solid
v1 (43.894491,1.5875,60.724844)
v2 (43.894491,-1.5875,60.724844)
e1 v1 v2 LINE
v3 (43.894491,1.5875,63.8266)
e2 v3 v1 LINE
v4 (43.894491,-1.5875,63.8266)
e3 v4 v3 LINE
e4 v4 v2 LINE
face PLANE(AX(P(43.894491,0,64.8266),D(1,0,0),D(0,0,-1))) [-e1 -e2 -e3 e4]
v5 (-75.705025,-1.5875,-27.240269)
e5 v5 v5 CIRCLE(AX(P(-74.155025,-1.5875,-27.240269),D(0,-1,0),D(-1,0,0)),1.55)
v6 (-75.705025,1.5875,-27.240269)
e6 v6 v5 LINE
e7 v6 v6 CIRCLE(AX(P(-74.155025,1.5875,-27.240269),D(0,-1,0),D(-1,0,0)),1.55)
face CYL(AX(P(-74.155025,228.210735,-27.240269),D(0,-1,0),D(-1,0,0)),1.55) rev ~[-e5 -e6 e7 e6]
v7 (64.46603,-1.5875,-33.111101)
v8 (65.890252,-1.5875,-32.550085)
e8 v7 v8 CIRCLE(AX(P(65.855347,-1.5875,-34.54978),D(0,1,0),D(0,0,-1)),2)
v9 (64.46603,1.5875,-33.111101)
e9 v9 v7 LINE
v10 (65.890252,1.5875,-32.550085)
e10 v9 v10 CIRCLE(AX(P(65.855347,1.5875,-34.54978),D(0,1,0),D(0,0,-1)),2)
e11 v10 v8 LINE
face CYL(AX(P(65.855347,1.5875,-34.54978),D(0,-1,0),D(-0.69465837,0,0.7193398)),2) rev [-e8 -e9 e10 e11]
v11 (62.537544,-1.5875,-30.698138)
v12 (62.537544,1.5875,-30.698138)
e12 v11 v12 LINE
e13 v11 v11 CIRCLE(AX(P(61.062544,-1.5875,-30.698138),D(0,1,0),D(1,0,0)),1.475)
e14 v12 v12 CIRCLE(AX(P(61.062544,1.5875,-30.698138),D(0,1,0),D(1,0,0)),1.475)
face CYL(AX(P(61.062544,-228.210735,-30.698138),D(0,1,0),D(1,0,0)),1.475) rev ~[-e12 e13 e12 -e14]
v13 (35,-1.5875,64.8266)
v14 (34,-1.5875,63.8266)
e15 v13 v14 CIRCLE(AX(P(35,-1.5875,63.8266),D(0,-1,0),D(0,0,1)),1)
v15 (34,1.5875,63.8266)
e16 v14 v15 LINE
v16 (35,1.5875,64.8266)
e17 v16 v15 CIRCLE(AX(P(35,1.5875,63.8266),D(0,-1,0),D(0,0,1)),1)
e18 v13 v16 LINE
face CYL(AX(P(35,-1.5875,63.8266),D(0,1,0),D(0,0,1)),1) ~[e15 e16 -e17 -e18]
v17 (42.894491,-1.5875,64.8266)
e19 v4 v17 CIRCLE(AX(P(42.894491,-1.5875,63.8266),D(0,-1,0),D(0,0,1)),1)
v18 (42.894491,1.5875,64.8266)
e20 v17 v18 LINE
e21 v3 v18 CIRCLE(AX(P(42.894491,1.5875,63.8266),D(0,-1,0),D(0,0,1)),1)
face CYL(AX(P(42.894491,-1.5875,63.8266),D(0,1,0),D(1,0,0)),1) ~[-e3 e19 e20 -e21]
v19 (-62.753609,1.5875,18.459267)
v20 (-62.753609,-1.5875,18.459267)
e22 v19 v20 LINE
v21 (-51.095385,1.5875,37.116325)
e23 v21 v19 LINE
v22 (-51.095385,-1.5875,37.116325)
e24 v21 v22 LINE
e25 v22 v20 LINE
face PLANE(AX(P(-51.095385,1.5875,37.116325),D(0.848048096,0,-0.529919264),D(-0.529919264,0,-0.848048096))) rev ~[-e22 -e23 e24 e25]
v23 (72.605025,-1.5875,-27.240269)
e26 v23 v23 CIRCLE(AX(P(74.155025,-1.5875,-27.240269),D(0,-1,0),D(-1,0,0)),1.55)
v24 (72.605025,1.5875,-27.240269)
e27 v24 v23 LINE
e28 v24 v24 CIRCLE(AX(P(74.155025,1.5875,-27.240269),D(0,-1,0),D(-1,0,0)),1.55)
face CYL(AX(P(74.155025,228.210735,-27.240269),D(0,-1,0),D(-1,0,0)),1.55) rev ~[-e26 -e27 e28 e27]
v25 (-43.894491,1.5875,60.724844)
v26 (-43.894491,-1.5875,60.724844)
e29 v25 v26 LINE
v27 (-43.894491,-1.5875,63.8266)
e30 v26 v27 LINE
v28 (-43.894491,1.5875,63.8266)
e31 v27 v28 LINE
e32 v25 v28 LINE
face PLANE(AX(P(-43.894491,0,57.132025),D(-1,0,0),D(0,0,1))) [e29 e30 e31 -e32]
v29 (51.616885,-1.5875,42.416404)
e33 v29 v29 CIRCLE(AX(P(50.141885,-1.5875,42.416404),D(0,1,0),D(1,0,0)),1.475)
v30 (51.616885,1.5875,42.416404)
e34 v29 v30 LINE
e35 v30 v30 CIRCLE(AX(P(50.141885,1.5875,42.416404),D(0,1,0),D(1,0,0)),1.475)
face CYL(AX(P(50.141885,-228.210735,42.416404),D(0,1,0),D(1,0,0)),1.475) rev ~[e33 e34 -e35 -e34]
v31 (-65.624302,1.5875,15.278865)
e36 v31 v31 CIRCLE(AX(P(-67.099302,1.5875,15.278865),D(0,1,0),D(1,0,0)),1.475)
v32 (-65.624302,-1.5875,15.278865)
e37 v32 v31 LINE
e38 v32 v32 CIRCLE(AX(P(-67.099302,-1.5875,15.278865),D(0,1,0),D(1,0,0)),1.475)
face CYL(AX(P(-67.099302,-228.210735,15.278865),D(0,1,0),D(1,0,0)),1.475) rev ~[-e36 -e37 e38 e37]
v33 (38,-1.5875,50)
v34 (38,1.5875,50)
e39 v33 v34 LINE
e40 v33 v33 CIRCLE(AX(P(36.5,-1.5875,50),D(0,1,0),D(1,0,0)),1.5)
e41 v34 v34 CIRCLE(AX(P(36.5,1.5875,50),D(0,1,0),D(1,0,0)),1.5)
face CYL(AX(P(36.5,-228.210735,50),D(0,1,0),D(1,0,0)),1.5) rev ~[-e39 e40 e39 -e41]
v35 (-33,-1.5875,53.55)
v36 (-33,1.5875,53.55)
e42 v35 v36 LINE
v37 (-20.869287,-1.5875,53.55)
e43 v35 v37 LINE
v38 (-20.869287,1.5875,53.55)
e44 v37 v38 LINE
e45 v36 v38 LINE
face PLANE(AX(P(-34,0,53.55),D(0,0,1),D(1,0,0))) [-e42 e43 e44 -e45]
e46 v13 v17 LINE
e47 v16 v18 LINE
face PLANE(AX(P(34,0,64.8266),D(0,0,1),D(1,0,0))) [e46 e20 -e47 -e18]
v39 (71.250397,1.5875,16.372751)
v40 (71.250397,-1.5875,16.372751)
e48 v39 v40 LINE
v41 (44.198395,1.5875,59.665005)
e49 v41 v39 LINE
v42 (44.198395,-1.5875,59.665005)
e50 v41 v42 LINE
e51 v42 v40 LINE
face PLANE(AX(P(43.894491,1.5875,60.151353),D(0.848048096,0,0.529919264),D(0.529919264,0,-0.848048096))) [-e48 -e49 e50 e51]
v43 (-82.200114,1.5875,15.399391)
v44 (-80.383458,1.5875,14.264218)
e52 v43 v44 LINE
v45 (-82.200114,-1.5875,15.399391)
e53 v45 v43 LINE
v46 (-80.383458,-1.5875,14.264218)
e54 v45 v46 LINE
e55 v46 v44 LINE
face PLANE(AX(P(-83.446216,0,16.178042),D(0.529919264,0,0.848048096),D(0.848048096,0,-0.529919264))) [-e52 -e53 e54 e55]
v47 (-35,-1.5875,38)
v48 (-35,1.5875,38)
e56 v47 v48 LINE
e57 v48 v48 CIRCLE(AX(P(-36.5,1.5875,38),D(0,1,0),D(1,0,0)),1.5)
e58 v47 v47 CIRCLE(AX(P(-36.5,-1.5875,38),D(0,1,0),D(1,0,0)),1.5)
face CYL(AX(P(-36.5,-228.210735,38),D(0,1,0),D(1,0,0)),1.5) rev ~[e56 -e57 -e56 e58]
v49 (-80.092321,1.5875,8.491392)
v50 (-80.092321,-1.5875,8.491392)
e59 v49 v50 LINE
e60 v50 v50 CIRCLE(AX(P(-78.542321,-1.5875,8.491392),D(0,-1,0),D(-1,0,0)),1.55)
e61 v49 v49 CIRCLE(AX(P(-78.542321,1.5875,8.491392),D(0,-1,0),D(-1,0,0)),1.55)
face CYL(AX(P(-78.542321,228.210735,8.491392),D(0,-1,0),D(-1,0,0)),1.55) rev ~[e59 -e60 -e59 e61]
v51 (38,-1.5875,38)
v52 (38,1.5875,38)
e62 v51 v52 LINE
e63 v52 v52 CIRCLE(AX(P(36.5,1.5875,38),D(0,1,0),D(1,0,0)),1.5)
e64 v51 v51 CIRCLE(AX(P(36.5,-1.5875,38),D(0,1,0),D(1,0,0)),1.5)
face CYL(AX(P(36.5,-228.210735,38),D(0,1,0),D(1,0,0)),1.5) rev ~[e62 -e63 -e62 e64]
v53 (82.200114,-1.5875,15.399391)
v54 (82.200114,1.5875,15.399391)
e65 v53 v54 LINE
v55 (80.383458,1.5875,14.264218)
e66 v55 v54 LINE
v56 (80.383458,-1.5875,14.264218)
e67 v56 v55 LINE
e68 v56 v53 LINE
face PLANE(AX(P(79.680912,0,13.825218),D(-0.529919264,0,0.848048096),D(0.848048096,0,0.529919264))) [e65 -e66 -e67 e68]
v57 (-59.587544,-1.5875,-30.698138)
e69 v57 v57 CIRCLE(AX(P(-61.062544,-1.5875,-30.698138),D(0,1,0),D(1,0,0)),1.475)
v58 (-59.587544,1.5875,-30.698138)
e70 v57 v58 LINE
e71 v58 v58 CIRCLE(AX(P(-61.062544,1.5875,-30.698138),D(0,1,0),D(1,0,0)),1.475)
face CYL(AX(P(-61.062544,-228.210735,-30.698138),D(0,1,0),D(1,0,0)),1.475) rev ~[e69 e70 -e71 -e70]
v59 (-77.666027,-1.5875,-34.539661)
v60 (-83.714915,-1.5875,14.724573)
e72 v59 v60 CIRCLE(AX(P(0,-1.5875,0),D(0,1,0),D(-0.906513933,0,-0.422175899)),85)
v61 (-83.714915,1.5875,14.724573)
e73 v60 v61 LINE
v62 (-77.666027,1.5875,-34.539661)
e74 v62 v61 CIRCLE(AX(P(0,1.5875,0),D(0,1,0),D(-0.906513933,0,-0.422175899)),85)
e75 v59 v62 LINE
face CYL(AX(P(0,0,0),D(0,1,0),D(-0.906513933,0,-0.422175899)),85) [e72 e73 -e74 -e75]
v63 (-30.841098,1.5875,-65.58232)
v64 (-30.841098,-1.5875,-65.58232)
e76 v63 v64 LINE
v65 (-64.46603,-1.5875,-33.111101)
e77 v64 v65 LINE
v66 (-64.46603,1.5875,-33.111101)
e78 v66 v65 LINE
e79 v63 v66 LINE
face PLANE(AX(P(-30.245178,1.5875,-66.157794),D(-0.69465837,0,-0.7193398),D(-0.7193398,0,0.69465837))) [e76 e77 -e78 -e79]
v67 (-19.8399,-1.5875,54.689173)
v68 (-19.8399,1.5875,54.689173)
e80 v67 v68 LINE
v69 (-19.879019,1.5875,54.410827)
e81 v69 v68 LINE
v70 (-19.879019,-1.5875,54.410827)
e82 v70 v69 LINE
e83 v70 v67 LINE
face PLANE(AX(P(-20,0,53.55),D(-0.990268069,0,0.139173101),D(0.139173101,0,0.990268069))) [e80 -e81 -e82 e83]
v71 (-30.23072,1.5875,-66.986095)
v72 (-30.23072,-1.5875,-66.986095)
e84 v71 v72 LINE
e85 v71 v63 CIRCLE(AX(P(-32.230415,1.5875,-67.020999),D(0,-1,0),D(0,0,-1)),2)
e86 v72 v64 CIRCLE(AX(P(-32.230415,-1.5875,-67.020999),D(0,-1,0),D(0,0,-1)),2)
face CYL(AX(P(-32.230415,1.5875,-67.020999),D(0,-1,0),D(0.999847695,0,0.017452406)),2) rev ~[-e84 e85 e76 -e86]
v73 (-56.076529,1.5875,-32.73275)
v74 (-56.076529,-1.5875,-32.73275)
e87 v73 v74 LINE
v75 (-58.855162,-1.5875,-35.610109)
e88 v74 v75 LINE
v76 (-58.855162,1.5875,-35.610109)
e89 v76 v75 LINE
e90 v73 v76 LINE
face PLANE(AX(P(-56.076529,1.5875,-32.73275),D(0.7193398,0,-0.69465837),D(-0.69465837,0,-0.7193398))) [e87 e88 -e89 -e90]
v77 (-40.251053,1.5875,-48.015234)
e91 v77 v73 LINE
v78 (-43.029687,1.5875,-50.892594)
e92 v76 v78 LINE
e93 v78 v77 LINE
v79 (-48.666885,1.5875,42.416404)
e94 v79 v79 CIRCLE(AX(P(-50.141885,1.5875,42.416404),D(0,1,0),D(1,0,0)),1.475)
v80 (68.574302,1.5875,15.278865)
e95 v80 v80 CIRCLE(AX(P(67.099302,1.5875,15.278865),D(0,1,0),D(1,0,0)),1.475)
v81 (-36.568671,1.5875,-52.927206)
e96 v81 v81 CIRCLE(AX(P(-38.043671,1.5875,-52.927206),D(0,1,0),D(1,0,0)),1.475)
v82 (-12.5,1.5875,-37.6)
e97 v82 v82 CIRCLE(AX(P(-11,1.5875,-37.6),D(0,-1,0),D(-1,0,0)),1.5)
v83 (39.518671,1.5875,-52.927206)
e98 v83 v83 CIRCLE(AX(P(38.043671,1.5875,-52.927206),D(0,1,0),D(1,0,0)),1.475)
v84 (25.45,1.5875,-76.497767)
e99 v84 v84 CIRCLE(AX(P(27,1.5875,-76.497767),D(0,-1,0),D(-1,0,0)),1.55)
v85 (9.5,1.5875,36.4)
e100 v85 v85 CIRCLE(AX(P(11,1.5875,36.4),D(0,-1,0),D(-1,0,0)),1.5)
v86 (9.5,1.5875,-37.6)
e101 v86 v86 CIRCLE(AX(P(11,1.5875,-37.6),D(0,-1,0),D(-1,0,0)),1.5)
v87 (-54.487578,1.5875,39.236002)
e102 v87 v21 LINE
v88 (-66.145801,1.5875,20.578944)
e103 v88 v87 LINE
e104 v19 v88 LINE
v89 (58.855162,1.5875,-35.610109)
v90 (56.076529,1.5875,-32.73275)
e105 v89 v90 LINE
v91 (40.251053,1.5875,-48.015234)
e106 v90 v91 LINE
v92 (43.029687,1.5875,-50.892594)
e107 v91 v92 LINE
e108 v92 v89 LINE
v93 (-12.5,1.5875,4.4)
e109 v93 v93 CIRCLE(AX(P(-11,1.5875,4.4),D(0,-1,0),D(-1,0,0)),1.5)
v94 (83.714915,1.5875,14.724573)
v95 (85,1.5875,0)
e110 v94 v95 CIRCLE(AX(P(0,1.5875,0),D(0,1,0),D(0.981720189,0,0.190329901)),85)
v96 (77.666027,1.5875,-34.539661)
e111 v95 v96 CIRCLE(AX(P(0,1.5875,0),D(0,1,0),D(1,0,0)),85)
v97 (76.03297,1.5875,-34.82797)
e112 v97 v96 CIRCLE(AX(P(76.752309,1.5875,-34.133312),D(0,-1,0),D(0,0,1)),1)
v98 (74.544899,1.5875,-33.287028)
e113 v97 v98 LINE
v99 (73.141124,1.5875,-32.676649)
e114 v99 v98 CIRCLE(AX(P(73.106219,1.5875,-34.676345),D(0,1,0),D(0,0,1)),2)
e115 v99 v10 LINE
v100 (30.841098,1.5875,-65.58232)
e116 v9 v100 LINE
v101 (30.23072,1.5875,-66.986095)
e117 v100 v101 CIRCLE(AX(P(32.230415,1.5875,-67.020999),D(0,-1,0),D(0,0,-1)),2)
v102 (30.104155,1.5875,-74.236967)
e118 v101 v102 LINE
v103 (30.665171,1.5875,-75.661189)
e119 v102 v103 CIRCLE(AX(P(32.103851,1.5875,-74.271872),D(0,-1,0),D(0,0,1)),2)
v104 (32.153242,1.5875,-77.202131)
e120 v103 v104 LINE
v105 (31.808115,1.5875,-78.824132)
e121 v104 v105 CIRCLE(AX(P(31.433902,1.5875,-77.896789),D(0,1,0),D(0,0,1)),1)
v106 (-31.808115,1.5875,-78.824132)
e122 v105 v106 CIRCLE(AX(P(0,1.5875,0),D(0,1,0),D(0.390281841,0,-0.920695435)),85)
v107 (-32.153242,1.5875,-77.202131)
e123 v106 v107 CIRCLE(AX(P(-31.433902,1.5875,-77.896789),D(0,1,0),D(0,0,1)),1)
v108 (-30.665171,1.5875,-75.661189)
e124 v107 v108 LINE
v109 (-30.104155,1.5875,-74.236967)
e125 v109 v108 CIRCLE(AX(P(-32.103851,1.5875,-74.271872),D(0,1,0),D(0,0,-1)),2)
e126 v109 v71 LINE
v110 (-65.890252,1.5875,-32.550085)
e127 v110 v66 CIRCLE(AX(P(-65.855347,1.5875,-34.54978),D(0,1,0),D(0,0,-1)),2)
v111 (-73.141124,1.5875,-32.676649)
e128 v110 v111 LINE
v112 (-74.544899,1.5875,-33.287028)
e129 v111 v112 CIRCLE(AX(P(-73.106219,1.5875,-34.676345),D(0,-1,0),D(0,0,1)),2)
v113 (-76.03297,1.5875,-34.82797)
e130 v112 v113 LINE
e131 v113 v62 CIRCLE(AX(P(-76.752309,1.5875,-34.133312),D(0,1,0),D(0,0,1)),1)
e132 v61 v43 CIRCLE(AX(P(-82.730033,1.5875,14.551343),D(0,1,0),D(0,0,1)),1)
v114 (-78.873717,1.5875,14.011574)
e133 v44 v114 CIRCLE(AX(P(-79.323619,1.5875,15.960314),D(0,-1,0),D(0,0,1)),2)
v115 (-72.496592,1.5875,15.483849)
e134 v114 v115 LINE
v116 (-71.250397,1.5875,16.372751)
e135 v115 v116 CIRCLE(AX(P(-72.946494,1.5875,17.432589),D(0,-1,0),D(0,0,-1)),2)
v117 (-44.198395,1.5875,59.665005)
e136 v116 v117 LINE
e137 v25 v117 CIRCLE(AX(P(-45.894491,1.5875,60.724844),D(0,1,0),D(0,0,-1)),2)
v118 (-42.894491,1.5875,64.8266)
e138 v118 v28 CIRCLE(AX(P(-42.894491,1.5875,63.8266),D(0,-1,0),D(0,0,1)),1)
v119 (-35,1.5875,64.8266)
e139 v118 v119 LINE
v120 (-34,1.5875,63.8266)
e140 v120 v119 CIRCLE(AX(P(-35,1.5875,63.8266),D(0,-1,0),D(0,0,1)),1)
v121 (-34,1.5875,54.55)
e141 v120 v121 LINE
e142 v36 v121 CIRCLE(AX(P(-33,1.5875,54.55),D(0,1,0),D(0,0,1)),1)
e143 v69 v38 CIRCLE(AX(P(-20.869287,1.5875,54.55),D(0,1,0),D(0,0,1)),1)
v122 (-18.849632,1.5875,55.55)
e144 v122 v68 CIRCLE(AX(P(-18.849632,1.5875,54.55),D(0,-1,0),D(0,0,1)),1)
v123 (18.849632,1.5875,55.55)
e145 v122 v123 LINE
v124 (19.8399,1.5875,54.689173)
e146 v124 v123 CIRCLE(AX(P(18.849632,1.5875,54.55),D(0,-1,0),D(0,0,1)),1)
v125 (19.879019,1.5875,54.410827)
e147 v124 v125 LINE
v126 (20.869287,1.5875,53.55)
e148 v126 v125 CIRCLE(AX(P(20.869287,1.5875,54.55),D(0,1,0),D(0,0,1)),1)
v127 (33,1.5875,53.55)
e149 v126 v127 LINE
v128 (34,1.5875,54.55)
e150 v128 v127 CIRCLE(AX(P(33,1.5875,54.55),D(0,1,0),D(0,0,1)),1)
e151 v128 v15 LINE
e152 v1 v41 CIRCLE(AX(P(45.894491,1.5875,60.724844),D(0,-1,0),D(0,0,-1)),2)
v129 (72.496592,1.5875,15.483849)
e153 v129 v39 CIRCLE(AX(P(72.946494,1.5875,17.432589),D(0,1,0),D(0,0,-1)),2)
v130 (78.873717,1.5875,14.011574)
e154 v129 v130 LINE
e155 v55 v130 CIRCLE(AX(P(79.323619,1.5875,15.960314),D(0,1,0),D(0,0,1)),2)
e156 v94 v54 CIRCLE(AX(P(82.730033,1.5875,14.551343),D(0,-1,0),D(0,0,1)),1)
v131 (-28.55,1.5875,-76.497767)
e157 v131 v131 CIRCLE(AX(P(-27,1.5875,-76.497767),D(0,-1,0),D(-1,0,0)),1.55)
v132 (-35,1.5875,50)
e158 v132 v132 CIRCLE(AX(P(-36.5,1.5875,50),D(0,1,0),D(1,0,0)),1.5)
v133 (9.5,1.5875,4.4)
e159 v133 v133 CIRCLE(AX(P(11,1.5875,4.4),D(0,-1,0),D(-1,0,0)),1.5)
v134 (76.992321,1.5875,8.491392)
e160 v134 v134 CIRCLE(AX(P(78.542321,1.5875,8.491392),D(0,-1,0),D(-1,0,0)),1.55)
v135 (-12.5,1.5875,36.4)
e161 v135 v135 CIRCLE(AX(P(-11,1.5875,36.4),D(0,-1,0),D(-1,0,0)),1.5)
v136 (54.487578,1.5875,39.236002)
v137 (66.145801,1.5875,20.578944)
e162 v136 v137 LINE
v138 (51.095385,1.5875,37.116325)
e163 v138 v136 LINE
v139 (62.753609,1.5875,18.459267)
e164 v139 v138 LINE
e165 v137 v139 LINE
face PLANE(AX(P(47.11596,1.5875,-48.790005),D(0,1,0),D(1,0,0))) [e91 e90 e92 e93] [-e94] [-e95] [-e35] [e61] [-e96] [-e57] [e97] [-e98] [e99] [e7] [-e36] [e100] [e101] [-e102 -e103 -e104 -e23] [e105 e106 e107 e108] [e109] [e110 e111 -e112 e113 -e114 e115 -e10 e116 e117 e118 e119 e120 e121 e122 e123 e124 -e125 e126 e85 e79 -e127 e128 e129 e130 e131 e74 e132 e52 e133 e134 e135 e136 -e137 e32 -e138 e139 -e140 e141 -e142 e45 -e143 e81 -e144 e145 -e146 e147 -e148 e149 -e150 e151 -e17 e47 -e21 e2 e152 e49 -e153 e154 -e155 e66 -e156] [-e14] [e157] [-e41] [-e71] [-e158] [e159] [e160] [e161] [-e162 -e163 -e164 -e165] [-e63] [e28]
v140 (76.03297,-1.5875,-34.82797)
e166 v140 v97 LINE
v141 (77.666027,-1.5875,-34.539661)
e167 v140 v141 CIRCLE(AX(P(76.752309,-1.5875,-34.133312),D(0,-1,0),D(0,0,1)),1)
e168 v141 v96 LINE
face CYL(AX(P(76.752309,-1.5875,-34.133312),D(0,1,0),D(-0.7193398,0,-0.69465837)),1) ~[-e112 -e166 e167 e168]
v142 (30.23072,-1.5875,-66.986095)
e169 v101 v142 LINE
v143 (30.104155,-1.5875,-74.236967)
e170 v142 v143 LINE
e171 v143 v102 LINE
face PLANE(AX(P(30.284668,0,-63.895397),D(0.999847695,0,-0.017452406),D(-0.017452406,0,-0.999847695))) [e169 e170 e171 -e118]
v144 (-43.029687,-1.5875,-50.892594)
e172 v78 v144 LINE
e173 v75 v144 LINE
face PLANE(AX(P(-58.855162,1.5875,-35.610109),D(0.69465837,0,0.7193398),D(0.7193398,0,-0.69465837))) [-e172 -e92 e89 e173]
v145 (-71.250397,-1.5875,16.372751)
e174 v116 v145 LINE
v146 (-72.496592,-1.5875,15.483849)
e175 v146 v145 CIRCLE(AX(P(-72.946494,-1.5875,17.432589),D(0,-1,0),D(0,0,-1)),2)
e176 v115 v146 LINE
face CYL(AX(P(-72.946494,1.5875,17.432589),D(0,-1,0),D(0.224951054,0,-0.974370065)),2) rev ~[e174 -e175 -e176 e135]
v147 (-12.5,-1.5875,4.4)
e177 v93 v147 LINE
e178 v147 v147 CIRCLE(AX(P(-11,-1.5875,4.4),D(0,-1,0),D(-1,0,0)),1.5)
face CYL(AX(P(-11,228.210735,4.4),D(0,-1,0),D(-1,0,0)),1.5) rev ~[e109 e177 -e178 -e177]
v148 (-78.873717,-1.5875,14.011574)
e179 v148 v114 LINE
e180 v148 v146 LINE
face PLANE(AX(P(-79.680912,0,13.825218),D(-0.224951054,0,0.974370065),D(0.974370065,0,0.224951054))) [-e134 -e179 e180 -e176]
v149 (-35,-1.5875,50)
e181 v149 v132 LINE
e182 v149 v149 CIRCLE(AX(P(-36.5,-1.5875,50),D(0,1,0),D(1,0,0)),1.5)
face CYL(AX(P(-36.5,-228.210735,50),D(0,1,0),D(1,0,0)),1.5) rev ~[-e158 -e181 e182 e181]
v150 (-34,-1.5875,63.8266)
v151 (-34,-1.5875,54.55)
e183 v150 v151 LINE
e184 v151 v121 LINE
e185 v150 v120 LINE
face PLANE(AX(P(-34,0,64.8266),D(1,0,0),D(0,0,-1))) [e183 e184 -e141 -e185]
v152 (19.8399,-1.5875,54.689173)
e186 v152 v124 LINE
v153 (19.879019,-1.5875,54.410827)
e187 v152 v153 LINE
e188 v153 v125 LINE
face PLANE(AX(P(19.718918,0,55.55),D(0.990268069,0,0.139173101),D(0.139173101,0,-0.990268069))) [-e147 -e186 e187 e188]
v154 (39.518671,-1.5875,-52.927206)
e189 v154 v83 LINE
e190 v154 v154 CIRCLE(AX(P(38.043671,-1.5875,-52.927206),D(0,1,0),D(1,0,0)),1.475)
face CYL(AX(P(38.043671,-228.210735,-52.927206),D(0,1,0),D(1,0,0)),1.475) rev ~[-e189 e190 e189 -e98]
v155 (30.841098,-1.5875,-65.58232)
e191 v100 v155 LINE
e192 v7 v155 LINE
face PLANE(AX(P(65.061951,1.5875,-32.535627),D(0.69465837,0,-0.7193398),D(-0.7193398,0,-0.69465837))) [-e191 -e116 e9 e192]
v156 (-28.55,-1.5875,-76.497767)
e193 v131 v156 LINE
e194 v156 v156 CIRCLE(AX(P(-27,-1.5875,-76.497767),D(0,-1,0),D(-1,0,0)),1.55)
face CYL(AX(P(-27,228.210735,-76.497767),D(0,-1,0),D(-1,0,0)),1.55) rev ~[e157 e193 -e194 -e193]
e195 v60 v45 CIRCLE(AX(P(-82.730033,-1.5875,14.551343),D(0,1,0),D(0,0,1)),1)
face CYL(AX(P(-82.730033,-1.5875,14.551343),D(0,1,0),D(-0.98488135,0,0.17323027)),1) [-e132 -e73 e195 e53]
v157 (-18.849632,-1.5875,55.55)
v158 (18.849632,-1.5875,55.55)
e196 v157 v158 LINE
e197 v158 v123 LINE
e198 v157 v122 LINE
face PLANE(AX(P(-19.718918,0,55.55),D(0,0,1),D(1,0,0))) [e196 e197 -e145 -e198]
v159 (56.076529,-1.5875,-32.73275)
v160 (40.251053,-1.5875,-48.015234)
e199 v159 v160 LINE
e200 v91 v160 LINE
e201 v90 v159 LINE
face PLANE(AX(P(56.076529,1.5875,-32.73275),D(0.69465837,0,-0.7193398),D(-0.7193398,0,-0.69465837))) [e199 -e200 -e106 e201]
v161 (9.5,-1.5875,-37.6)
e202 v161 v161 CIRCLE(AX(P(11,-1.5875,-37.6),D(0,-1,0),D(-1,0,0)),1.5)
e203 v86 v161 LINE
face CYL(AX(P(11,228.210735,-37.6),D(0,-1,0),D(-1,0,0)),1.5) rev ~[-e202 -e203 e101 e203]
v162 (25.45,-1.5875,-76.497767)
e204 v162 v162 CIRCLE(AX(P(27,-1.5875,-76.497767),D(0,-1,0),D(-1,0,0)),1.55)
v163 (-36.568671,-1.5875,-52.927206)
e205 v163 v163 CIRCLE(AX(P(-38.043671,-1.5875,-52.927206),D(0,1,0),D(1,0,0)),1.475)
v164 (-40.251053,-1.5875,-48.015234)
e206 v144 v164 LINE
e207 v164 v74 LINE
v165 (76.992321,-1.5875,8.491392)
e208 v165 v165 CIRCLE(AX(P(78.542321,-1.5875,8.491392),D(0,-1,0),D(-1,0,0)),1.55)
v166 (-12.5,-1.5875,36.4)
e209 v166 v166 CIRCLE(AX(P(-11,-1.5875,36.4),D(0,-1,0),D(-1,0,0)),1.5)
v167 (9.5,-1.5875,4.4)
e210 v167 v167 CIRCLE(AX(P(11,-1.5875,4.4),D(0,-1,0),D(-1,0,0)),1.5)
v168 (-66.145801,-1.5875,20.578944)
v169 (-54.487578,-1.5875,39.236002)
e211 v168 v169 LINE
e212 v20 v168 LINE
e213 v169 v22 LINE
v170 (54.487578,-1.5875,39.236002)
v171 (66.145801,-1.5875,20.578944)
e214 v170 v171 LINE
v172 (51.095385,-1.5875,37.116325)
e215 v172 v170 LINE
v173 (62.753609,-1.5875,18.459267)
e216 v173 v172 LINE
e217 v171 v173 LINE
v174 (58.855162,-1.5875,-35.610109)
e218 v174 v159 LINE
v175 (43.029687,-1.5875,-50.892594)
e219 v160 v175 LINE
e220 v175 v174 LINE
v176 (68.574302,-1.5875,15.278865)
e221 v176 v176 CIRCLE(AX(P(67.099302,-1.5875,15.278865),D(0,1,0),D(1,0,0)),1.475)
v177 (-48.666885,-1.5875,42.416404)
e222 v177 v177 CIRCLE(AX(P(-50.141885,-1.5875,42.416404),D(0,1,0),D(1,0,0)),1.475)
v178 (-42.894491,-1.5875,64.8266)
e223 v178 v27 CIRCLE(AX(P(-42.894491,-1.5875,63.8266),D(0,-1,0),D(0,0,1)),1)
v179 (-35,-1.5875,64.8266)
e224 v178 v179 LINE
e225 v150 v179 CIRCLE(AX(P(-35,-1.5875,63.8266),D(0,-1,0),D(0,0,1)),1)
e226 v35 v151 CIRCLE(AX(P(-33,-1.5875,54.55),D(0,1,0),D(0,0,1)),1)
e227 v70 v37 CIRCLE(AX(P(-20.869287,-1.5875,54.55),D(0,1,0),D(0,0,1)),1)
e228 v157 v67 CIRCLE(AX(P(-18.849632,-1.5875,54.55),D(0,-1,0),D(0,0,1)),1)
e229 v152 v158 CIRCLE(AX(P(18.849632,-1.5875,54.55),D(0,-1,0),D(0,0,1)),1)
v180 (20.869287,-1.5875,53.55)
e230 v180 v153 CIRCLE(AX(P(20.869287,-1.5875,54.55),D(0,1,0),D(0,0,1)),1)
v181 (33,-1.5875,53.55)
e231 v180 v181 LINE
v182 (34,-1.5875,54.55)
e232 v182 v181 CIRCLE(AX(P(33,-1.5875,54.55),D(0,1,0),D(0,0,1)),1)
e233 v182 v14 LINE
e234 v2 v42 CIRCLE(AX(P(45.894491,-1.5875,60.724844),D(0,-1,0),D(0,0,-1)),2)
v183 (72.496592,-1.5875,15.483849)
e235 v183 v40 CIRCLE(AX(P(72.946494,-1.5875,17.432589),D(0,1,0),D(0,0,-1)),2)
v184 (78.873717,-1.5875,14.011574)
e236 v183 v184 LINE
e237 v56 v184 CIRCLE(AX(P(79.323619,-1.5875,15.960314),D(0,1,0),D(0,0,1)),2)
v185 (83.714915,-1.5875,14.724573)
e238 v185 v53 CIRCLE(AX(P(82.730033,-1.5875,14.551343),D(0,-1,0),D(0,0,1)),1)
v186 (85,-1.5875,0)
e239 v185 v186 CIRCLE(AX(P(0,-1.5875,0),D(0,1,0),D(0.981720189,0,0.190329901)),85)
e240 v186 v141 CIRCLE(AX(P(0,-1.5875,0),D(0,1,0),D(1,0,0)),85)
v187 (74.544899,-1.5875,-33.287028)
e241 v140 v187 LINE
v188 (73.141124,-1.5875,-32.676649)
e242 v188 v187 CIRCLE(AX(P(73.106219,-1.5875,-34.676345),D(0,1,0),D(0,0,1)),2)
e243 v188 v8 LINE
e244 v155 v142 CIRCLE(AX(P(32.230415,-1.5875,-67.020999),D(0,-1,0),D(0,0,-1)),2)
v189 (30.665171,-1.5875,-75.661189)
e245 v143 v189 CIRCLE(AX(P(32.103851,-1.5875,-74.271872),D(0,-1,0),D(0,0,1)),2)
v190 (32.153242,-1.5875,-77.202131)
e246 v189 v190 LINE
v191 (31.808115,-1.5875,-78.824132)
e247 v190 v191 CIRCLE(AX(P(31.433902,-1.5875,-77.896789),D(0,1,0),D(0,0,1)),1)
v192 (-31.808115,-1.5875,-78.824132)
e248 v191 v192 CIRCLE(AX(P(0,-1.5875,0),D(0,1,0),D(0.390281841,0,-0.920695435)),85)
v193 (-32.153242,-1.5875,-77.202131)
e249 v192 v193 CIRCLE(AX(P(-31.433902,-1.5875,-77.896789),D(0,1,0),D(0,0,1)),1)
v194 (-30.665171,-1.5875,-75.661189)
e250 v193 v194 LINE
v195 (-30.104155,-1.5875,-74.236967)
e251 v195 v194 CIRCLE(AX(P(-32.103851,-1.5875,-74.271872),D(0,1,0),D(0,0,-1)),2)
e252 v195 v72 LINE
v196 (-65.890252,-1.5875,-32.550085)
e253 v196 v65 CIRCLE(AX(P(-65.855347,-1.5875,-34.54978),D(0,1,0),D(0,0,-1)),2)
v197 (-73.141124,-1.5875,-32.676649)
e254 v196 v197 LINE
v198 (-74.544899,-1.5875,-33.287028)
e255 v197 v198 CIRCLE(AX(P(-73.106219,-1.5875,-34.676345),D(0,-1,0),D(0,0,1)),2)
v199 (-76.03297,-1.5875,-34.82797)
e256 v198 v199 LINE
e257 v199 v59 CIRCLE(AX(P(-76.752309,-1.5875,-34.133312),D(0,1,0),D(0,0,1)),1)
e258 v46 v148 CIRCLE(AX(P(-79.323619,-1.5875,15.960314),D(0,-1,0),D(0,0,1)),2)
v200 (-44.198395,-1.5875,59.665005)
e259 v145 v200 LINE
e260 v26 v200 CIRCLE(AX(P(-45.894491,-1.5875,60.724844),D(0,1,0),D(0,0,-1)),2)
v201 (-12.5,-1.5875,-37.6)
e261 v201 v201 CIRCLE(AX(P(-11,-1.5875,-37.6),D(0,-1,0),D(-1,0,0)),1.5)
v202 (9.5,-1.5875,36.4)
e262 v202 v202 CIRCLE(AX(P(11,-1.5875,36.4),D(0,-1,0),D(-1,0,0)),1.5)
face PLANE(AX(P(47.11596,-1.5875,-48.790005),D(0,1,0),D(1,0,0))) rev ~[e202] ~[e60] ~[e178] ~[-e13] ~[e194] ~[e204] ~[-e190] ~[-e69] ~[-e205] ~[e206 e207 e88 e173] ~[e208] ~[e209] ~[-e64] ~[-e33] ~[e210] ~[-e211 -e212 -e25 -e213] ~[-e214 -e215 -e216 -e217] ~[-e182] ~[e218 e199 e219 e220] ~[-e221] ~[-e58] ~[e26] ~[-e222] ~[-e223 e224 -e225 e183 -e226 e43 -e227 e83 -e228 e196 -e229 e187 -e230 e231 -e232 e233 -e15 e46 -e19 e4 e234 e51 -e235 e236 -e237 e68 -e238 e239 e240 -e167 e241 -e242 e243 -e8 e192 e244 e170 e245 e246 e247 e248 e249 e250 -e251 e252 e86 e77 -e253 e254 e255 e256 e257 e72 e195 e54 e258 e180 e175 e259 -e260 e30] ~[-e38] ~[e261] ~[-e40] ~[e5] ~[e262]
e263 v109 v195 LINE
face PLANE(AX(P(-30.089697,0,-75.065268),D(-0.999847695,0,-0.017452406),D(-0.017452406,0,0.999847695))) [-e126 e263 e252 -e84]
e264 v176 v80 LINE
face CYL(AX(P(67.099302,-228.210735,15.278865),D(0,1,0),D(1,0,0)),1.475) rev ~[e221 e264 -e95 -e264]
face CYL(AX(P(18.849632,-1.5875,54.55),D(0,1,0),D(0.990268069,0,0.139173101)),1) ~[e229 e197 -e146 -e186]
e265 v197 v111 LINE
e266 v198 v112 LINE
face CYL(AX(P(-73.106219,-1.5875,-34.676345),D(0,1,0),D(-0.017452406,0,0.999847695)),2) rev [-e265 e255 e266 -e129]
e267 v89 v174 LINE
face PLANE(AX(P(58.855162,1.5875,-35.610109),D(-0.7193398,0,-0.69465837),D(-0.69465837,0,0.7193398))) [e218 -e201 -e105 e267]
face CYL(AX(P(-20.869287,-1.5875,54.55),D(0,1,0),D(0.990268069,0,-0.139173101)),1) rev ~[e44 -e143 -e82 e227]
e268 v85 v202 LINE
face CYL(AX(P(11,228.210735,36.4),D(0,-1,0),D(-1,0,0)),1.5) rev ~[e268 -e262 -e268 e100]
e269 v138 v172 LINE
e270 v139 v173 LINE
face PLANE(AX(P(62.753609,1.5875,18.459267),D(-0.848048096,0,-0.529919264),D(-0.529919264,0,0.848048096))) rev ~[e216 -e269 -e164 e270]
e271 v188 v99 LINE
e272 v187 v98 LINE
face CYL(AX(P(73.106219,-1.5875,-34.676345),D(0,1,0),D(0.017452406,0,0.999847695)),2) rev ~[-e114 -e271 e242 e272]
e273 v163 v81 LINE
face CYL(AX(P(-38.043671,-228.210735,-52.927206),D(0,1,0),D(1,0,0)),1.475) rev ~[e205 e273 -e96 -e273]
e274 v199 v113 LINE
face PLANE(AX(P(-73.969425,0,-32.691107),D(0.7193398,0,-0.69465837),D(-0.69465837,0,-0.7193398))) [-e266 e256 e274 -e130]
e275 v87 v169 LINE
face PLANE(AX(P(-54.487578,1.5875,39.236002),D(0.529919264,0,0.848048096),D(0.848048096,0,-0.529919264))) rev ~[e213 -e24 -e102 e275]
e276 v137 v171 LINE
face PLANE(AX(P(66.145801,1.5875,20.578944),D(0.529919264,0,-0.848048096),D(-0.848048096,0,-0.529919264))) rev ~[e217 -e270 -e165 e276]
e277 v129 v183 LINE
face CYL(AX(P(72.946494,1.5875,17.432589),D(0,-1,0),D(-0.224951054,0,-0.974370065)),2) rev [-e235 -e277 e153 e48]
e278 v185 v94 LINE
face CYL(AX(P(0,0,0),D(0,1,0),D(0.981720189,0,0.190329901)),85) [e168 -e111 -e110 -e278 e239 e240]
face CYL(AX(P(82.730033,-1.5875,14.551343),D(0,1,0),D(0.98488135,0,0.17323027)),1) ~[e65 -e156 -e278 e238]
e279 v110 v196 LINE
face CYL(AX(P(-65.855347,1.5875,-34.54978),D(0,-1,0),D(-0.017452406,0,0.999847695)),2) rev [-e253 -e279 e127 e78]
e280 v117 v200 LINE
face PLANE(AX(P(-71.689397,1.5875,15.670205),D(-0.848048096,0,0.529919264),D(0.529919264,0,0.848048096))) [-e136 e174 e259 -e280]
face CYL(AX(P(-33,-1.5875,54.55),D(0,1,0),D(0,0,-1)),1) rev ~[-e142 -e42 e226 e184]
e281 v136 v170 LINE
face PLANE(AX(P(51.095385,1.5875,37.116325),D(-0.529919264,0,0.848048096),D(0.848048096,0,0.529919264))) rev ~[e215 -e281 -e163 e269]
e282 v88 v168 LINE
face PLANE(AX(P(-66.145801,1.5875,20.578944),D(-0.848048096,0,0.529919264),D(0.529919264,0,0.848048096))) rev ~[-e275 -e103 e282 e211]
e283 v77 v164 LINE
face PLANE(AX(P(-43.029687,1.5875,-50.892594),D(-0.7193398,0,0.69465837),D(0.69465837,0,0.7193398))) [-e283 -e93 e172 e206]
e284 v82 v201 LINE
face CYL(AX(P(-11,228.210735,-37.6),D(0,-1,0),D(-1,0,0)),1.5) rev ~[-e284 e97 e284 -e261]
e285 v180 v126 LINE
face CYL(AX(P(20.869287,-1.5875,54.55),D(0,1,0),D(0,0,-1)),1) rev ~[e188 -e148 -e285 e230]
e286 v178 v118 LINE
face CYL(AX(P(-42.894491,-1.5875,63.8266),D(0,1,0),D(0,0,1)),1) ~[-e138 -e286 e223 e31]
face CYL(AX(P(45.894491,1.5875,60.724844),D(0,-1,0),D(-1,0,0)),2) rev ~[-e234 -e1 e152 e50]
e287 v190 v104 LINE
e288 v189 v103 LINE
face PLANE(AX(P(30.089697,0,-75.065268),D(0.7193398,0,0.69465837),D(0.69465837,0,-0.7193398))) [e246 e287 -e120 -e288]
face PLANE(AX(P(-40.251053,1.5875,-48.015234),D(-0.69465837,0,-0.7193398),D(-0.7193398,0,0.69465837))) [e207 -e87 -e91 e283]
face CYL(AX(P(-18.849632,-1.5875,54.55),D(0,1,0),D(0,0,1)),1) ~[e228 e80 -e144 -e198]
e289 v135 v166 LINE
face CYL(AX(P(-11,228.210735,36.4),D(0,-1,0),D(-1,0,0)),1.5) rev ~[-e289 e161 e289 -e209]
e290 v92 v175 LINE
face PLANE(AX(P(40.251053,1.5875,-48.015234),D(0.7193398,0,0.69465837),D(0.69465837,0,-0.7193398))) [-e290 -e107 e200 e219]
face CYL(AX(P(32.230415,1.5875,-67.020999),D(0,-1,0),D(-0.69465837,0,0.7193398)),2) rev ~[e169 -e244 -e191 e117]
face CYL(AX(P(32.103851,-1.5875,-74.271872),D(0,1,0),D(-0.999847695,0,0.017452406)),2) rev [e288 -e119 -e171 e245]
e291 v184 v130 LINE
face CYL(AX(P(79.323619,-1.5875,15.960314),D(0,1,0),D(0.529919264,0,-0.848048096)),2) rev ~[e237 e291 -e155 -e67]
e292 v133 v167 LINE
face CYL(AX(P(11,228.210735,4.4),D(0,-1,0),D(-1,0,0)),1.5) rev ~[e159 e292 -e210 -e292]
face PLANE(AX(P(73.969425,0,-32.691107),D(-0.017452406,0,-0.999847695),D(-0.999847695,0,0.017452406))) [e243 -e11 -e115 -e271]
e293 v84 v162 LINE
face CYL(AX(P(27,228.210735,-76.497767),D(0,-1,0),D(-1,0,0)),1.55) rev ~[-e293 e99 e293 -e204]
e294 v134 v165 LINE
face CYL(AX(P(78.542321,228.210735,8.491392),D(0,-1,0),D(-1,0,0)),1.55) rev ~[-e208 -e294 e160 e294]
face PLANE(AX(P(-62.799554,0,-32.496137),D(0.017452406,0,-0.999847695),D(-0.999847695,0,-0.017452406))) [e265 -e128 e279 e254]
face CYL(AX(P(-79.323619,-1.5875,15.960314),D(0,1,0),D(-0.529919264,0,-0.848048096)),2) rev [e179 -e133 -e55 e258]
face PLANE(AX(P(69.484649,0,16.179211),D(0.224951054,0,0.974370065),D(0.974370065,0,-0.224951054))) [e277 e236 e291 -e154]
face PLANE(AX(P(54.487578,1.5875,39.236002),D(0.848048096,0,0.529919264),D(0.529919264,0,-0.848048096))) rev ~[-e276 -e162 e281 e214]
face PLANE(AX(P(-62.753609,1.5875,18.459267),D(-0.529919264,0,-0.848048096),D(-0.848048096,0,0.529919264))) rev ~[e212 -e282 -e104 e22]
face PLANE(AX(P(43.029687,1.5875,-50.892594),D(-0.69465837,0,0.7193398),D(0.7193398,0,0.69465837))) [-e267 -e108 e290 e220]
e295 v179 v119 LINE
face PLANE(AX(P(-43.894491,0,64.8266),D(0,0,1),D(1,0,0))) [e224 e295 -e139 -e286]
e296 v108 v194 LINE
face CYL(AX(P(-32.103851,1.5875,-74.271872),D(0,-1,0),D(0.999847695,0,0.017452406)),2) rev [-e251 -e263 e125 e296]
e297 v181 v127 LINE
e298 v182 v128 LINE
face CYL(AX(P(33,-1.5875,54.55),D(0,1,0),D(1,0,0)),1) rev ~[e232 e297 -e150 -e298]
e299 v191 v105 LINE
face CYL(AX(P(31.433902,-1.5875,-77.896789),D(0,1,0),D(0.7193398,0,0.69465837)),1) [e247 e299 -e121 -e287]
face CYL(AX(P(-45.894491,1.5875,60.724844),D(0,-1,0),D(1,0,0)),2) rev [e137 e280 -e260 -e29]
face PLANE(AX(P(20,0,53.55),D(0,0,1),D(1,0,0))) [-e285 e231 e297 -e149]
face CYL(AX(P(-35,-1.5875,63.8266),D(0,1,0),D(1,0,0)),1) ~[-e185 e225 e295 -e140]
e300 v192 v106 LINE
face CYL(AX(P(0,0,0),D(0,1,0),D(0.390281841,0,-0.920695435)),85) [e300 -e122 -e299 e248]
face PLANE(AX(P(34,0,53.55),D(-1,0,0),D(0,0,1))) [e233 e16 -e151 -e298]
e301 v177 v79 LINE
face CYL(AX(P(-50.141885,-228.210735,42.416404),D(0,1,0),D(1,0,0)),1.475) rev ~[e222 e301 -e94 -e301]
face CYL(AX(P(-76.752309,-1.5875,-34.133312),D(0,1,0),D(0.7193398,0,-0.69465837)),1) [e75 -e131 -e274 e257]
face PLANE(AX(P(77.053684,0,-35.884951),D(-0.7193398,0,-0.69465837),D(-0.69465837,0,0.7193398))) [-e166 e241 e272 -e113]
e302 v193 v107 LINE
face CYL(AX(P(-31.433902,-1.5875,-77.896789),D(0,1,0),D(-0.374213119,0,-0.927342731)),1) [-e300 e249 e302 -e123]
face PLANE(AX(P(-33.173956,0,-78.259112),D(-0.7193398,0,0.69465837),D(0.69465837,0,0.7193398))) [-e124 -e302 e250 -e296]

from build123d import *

# Parameters (mm, degrees)
BOSS_EXTRUDE4_DEPTH       = 1.5875
M3_CLEARANCE_HOLE3_D      = 3
M3_CLEARANCE_HOLE1_D      = 3.1
M3_CLEARANCE_HOLE4_D      = 2.95
M3_CLEARANCE_HOLE2_D      = 3.1
M3_CLEARANCE_HOLE5_D      = 3
BOSS_EXTRUDE6_DEPTH       = 3.175
FILLET1_R                 = 2
FILLET3_R                 = 1
ALIGNMENT_CUTOUT_FL_DEPTH = 121.250075508
ALIGNMENT_CUTOUT_FR_DEPTH = 121.250075508
ALIGNMENT_CUTOUT_RL_DEPTH = 121.250075508
ALIGNMENT_CUTOUT_RR_DEPTH = 121.250075508


with BuildPart() as part:
    # Sketch1 → Boss-Extrude4 (new, symmetric)
    with BuildSketch(Plane(origin=(0, 0, 0), x_dir=(1, 0, 0), z_dir=(0, 1, 0))):
        with BuildLine():
            Line((-62.799553621, 32.496136604), (-73.969425011, 32.691107434))
            Line((-73.969425011, 32.691107434), (-77.053684287, 35.88495141))
            ThreePointArc((-77.053684287, 35.88495141), (-84.36642289, 10.358894189), (-83.446216027, -16.178041625))
            Line((-83.446216027, -16.178041625), (-79.680911643, -13.825218315))
            Line((-79.680911643, -13.825218315), (-69.484649137, -16.179210996))
            Line((-69.484649137, -16.179210996), (-43.894490772, -57.132025032))
            Line((-43.894490772, -57.132025032), (-43.894490772, -64.826600275))
            Line((-43.894490772, -64.826600275), (-43.094490772, -64.826600275))
            Line((-43.094490772, -64.826600275), (-34, -64.826600275))
            Line((-34, -64.826600275), (-34, -55.55))
            Line((-34, -55.55), (-34, -53.55))
            Line((-34, -53.55), (-20, -53.55))
            Line((-20, -53.55), (-19.718918331, -55.55))
            Line((-19.718918331, -55.55), (19.718918331, -55.55))
            Line((19.718918331, -55.55), (20, -53.55))
            Line((20, -53.55), (34, -53.55))
            Line((34, -53.55), (34, -55.55))
            Line((34, -55.55), (34, -64.826600275))
            Line((34, -64.826600275), (43.094490772, -64.826600275))
            Line((43.094490772, -64.826600275), (43.894490772, -64.826600275))
            Line((43.894490772, -64.826600275), (43.894490772, -57.132025032))
            Line((43.894490772, -57.132025032), (69.484649137, -16.179210996))
            Line((69.484649137, -16.179210996), (79.680911643, -13.825218315))
            Line((79.680911643, -13.825218315), (83.446216027, -16.178041625))
            ThreePointArc((83.446216027, -16.178041625), (84.610662337, -8.126242604), (85, 0))
            ThreePointArc((85, 0), (82.98964744, 18.377116688), (77.053684287, 35.88495141))
            Line((77.053684287, 35.88495141), (73.969425011, 32.691107434))
            Line((73.969425011, 32.691107434), (62.799553621, 32.496136604))
            Line((62.799553621, 32.496136604), (30.284668021, 63.895396642))
            Line((30.284668021, 63.895396642), (30.089697191, 75.065268032))
            Line((30.089697191, 75.065268032), (33.173956467, 78.259112008))
            ThreePointArc((33.173956467, 78.259112008), (0, 85), (-33.173956467, 78.259112008))
            Line((-33.173956467, 78.259112008), (-30.089697191, 75.065268032))
            Line((-30.089697191, 75.065268032), (-30.284668021, 63.895396642))
            Line((-30.284668021, 63.895396642), (-62.799553621, 32.496136604))
        make_face()
    extrude(amount=BOSS_EXTRUDE4_DEPTH, both=True)

    # M3 Clearance Hole3 (through all)
    with Locations(Plane(origin=(0, -1.5875, 0), x_dir=(-1, 0, 0), z_dir=(0, -1, 0))):
        with Locations((36.5, -50), (36.5, -38), (-36.5, -50), (-36.5, -38)):
            Hole(M3_CLEARANCE_HOLE3_D / 2)

    # M3 Clearance Hole1 (through all)
    with Locations(Plane(origin=(0, 1.5875, 0), x_dir=(1, 0, 0), z_dir=(0, 1, 0))):
        with Locations((-78.542321426, -8.49139241), (78.542321426, -8.49139241), (74.155025063, 27.240269049), (-74.155025063, 27.240269049)):
            Hole(M3_CLEARANCE_HOLE1_D / 2)

    # M3 Clearance Hole4 (through all)
    with Locations(Plane(origin=(0, -1.5875, 0), x_dir=(-1, 0, 0), z_dir=(0, -1, 0))):
        with Locations((-67.099301622, -15.278865202), (-50.141885166, -42.416404279), (-61.062544382, 30.698137949), (-38.043670771, 52.927205804), (50.141885166, -42.416404279), (67.099301622, -15.278865202), (38.043670771, 52.927205804), (61.062544382, 30.698137949)):
            Hole(M3_CLEARANCE_HOLE4_D / 2)

    # M3 Clearance Hole2 (through all)
    with Locations(Plane(origin=(0, 1.5875, 0), x_dir=(1, 0, 0), z_dir=(0, 1, 0))):
        with Locations((27, 76.497766718), (-27, 76.497766718)):
            Hole(M3_CLEARANCE_HOLE2_D / 2)

    # M3 Clearance Hole5 (through all)
    with Locations(Plane(origin=(0, 1.5875, 0), x_dir=(1, 0, 0), z_dir=(0, 1, 0))):
        with Locations((-11, -4.4), (11, -4.4), (11, -36.4), (-11, -36.4), (-11, 37.6), (11, 37.6)):
            Hole(M3_CLEARANCE_HOLE5_D / 2)

    # Sketch22 → Boss-Extrude6 (add)
    with BuildSketch(Plane(origin=(0, 1.5875, 0), x_dir=(1, 0, 0), z_dir=(0, 1, 0))):
        Polygon((65.061950694, 32.535626892), (30.245177733, 66.157793715), (30.284668021, 63.895396642), (62.799553621, 32.496136604), align=None)
        Polygon((-30.284668021, 63.895396642), (-30.245177733, 66.157793715), (-65.061950694, 32.535626892), (-62.799553621, 32.496136604), align=None)
        Polygon((43.894490772, -60.151352895), (71.689396914, -15.670204865), (69.484649137, -16.179210996), (43.894490772, -57.132025032), align=None)
        Polygon((-69.484649137, -16.179210996), (-71.689396914, -15.670204865), (-43.894490772, -60.151352895), (-43.894490772, -57.132025032), align=None)
    extrude(amount=-BOSS_EXTRUDE6_DEPTH)

    # Fillet1
    fillet1_edges = [part.edges().sort_by_distance(p)[0] for p in [
        (-30.245177733, -0.79375, -66.157793715),
        (-65.061950694, -0.79375, -32.535626892),
        (-71.689396914, 0.79375, 15.670204865),
        (-43.894490772, 0.79375, 60.151352895),
        (43.894490772, -0.79375, 60.151352895),
        (71.689396914, -0.79375, 15.670204865),
        (65.061950694, -0.79375, -32.535626892),
        (30.245177733, 0.79375, -66.157793715),
        (30.089697191, -0.79375, -75.065268032),
        (73.969425011, -0.79375, -32.691107434),
        (79.680911643, -0.79375, 13.825218315),
        (-79.680911643, -0.79375, 13.825218315),
        (-73.969425011, -0.79375, -32.691107434),
        (-30.089697191, -0.79375, -75.065268032),
    ]]
    fillet(fillet1_edges, radius=FILLET1_R)

    # Fillet3
    fillet3_edges = [part.edges().sort_by_distance(p)[0] for p in [
        (33.173956467, -0.79375, -78.259112008),
        (77.053684287, 0.79375, -35.88495141),
        (83.446216027, -0.79375, 16.178041625),
        (43.894490772, -0.79375, 64.826600275),
        (34, 0.79375, 64.826600275),
        (34, -0.79375, 53.55),
        (20, -0.79375, 53.55),
        (19.718918331, 0.79375, 55.55),
        (-19.718918331, 0.79375, 55.55),
        (-20, -0.79375, 53.55),
        (-34, -0.79375, 53.55),
        (-34, 0.79375, 64.826600275),
        (-43.894490772, -0.79375, 64.826600275),
        (-83.446216027, -0.79375, 16.178041625),
        (-77.053684287, -0.79375, -35.88495141),
        (-33.173956467, -0.79375, -78.259112008),
    ]]
    fillet(fillet3_edges, radius=FILLET3_R)

    # Sketch27 → Alignment Cutout - FL (cut, through all)
    with BuildSketch(Plane(origin=(0, 1.5875, 0), x_dir=(1, 0, 0), z_dir=(0, 1, 0))):
        Polygon((51.095385295, -37.11632527), (54.48757768, -39.236002327), (66.145801493, -20.578944211), (62.753609108, -18.459267154), align=None)
    extrude(amount=-ALIGNMENT_CUTOUT_FL_DEPTH, mode=Mode.SUBTRACT)

    # Sketch28 → Alignment Cutout - FR (cut, through all)
    with BuildSketch(Plane(origin=(0, 1.5875, 0), x_dir=(1, 0, 0), z_dir=(0, 1, 0))):
        Polygon((-54.48757768, -39.236002327), (-51.095385295, -37.11632527), (-62.753609108, -18.459267154), (-66.145801493, -20.578944211), align=None)
    extrude(amount=-ALIGNMENT_CUTOUT_FR_DEPTH, mode=Mode.SUBTRACT)

    # Sketch29 → Alignment Cutout - RL (cut, through all)
    with BuildSketch(Plane(origin=(0, 1.5875, 0), x_dir=(1, 0, 0), z_dir=(0, 1, 0))):
        Polygon((40.251053032, 48.015234351), (43.029686514, 50.892593553), (58.855162121, 35.610109402), (56.07652864, 32.732750201), align=None)
    extrude(amount=-ALIGNMENT_CUTOUT_RL_DEPTH, mode=Mode.SUBTRACT)

    # Sketch30 → Alignment Cutout - RR (cut, through all)
    with BuildSketch(Plane(origin=(0, 1.5875, 0), x_dir=(1, 0, 0), z_dir=(0, 1, 0))):
        Polygon((-56.07652864, 32.732750201), (-58.855162121, 35.610109402), (-43.029686514, 50.892593553), (-40.251053032, 48.015234351), align=None)
    extrude(amount=-ALIGNMENT_CUTOUT_RR_DEPTH, mode=Mode.SUBTRACT)


solid = part.part
